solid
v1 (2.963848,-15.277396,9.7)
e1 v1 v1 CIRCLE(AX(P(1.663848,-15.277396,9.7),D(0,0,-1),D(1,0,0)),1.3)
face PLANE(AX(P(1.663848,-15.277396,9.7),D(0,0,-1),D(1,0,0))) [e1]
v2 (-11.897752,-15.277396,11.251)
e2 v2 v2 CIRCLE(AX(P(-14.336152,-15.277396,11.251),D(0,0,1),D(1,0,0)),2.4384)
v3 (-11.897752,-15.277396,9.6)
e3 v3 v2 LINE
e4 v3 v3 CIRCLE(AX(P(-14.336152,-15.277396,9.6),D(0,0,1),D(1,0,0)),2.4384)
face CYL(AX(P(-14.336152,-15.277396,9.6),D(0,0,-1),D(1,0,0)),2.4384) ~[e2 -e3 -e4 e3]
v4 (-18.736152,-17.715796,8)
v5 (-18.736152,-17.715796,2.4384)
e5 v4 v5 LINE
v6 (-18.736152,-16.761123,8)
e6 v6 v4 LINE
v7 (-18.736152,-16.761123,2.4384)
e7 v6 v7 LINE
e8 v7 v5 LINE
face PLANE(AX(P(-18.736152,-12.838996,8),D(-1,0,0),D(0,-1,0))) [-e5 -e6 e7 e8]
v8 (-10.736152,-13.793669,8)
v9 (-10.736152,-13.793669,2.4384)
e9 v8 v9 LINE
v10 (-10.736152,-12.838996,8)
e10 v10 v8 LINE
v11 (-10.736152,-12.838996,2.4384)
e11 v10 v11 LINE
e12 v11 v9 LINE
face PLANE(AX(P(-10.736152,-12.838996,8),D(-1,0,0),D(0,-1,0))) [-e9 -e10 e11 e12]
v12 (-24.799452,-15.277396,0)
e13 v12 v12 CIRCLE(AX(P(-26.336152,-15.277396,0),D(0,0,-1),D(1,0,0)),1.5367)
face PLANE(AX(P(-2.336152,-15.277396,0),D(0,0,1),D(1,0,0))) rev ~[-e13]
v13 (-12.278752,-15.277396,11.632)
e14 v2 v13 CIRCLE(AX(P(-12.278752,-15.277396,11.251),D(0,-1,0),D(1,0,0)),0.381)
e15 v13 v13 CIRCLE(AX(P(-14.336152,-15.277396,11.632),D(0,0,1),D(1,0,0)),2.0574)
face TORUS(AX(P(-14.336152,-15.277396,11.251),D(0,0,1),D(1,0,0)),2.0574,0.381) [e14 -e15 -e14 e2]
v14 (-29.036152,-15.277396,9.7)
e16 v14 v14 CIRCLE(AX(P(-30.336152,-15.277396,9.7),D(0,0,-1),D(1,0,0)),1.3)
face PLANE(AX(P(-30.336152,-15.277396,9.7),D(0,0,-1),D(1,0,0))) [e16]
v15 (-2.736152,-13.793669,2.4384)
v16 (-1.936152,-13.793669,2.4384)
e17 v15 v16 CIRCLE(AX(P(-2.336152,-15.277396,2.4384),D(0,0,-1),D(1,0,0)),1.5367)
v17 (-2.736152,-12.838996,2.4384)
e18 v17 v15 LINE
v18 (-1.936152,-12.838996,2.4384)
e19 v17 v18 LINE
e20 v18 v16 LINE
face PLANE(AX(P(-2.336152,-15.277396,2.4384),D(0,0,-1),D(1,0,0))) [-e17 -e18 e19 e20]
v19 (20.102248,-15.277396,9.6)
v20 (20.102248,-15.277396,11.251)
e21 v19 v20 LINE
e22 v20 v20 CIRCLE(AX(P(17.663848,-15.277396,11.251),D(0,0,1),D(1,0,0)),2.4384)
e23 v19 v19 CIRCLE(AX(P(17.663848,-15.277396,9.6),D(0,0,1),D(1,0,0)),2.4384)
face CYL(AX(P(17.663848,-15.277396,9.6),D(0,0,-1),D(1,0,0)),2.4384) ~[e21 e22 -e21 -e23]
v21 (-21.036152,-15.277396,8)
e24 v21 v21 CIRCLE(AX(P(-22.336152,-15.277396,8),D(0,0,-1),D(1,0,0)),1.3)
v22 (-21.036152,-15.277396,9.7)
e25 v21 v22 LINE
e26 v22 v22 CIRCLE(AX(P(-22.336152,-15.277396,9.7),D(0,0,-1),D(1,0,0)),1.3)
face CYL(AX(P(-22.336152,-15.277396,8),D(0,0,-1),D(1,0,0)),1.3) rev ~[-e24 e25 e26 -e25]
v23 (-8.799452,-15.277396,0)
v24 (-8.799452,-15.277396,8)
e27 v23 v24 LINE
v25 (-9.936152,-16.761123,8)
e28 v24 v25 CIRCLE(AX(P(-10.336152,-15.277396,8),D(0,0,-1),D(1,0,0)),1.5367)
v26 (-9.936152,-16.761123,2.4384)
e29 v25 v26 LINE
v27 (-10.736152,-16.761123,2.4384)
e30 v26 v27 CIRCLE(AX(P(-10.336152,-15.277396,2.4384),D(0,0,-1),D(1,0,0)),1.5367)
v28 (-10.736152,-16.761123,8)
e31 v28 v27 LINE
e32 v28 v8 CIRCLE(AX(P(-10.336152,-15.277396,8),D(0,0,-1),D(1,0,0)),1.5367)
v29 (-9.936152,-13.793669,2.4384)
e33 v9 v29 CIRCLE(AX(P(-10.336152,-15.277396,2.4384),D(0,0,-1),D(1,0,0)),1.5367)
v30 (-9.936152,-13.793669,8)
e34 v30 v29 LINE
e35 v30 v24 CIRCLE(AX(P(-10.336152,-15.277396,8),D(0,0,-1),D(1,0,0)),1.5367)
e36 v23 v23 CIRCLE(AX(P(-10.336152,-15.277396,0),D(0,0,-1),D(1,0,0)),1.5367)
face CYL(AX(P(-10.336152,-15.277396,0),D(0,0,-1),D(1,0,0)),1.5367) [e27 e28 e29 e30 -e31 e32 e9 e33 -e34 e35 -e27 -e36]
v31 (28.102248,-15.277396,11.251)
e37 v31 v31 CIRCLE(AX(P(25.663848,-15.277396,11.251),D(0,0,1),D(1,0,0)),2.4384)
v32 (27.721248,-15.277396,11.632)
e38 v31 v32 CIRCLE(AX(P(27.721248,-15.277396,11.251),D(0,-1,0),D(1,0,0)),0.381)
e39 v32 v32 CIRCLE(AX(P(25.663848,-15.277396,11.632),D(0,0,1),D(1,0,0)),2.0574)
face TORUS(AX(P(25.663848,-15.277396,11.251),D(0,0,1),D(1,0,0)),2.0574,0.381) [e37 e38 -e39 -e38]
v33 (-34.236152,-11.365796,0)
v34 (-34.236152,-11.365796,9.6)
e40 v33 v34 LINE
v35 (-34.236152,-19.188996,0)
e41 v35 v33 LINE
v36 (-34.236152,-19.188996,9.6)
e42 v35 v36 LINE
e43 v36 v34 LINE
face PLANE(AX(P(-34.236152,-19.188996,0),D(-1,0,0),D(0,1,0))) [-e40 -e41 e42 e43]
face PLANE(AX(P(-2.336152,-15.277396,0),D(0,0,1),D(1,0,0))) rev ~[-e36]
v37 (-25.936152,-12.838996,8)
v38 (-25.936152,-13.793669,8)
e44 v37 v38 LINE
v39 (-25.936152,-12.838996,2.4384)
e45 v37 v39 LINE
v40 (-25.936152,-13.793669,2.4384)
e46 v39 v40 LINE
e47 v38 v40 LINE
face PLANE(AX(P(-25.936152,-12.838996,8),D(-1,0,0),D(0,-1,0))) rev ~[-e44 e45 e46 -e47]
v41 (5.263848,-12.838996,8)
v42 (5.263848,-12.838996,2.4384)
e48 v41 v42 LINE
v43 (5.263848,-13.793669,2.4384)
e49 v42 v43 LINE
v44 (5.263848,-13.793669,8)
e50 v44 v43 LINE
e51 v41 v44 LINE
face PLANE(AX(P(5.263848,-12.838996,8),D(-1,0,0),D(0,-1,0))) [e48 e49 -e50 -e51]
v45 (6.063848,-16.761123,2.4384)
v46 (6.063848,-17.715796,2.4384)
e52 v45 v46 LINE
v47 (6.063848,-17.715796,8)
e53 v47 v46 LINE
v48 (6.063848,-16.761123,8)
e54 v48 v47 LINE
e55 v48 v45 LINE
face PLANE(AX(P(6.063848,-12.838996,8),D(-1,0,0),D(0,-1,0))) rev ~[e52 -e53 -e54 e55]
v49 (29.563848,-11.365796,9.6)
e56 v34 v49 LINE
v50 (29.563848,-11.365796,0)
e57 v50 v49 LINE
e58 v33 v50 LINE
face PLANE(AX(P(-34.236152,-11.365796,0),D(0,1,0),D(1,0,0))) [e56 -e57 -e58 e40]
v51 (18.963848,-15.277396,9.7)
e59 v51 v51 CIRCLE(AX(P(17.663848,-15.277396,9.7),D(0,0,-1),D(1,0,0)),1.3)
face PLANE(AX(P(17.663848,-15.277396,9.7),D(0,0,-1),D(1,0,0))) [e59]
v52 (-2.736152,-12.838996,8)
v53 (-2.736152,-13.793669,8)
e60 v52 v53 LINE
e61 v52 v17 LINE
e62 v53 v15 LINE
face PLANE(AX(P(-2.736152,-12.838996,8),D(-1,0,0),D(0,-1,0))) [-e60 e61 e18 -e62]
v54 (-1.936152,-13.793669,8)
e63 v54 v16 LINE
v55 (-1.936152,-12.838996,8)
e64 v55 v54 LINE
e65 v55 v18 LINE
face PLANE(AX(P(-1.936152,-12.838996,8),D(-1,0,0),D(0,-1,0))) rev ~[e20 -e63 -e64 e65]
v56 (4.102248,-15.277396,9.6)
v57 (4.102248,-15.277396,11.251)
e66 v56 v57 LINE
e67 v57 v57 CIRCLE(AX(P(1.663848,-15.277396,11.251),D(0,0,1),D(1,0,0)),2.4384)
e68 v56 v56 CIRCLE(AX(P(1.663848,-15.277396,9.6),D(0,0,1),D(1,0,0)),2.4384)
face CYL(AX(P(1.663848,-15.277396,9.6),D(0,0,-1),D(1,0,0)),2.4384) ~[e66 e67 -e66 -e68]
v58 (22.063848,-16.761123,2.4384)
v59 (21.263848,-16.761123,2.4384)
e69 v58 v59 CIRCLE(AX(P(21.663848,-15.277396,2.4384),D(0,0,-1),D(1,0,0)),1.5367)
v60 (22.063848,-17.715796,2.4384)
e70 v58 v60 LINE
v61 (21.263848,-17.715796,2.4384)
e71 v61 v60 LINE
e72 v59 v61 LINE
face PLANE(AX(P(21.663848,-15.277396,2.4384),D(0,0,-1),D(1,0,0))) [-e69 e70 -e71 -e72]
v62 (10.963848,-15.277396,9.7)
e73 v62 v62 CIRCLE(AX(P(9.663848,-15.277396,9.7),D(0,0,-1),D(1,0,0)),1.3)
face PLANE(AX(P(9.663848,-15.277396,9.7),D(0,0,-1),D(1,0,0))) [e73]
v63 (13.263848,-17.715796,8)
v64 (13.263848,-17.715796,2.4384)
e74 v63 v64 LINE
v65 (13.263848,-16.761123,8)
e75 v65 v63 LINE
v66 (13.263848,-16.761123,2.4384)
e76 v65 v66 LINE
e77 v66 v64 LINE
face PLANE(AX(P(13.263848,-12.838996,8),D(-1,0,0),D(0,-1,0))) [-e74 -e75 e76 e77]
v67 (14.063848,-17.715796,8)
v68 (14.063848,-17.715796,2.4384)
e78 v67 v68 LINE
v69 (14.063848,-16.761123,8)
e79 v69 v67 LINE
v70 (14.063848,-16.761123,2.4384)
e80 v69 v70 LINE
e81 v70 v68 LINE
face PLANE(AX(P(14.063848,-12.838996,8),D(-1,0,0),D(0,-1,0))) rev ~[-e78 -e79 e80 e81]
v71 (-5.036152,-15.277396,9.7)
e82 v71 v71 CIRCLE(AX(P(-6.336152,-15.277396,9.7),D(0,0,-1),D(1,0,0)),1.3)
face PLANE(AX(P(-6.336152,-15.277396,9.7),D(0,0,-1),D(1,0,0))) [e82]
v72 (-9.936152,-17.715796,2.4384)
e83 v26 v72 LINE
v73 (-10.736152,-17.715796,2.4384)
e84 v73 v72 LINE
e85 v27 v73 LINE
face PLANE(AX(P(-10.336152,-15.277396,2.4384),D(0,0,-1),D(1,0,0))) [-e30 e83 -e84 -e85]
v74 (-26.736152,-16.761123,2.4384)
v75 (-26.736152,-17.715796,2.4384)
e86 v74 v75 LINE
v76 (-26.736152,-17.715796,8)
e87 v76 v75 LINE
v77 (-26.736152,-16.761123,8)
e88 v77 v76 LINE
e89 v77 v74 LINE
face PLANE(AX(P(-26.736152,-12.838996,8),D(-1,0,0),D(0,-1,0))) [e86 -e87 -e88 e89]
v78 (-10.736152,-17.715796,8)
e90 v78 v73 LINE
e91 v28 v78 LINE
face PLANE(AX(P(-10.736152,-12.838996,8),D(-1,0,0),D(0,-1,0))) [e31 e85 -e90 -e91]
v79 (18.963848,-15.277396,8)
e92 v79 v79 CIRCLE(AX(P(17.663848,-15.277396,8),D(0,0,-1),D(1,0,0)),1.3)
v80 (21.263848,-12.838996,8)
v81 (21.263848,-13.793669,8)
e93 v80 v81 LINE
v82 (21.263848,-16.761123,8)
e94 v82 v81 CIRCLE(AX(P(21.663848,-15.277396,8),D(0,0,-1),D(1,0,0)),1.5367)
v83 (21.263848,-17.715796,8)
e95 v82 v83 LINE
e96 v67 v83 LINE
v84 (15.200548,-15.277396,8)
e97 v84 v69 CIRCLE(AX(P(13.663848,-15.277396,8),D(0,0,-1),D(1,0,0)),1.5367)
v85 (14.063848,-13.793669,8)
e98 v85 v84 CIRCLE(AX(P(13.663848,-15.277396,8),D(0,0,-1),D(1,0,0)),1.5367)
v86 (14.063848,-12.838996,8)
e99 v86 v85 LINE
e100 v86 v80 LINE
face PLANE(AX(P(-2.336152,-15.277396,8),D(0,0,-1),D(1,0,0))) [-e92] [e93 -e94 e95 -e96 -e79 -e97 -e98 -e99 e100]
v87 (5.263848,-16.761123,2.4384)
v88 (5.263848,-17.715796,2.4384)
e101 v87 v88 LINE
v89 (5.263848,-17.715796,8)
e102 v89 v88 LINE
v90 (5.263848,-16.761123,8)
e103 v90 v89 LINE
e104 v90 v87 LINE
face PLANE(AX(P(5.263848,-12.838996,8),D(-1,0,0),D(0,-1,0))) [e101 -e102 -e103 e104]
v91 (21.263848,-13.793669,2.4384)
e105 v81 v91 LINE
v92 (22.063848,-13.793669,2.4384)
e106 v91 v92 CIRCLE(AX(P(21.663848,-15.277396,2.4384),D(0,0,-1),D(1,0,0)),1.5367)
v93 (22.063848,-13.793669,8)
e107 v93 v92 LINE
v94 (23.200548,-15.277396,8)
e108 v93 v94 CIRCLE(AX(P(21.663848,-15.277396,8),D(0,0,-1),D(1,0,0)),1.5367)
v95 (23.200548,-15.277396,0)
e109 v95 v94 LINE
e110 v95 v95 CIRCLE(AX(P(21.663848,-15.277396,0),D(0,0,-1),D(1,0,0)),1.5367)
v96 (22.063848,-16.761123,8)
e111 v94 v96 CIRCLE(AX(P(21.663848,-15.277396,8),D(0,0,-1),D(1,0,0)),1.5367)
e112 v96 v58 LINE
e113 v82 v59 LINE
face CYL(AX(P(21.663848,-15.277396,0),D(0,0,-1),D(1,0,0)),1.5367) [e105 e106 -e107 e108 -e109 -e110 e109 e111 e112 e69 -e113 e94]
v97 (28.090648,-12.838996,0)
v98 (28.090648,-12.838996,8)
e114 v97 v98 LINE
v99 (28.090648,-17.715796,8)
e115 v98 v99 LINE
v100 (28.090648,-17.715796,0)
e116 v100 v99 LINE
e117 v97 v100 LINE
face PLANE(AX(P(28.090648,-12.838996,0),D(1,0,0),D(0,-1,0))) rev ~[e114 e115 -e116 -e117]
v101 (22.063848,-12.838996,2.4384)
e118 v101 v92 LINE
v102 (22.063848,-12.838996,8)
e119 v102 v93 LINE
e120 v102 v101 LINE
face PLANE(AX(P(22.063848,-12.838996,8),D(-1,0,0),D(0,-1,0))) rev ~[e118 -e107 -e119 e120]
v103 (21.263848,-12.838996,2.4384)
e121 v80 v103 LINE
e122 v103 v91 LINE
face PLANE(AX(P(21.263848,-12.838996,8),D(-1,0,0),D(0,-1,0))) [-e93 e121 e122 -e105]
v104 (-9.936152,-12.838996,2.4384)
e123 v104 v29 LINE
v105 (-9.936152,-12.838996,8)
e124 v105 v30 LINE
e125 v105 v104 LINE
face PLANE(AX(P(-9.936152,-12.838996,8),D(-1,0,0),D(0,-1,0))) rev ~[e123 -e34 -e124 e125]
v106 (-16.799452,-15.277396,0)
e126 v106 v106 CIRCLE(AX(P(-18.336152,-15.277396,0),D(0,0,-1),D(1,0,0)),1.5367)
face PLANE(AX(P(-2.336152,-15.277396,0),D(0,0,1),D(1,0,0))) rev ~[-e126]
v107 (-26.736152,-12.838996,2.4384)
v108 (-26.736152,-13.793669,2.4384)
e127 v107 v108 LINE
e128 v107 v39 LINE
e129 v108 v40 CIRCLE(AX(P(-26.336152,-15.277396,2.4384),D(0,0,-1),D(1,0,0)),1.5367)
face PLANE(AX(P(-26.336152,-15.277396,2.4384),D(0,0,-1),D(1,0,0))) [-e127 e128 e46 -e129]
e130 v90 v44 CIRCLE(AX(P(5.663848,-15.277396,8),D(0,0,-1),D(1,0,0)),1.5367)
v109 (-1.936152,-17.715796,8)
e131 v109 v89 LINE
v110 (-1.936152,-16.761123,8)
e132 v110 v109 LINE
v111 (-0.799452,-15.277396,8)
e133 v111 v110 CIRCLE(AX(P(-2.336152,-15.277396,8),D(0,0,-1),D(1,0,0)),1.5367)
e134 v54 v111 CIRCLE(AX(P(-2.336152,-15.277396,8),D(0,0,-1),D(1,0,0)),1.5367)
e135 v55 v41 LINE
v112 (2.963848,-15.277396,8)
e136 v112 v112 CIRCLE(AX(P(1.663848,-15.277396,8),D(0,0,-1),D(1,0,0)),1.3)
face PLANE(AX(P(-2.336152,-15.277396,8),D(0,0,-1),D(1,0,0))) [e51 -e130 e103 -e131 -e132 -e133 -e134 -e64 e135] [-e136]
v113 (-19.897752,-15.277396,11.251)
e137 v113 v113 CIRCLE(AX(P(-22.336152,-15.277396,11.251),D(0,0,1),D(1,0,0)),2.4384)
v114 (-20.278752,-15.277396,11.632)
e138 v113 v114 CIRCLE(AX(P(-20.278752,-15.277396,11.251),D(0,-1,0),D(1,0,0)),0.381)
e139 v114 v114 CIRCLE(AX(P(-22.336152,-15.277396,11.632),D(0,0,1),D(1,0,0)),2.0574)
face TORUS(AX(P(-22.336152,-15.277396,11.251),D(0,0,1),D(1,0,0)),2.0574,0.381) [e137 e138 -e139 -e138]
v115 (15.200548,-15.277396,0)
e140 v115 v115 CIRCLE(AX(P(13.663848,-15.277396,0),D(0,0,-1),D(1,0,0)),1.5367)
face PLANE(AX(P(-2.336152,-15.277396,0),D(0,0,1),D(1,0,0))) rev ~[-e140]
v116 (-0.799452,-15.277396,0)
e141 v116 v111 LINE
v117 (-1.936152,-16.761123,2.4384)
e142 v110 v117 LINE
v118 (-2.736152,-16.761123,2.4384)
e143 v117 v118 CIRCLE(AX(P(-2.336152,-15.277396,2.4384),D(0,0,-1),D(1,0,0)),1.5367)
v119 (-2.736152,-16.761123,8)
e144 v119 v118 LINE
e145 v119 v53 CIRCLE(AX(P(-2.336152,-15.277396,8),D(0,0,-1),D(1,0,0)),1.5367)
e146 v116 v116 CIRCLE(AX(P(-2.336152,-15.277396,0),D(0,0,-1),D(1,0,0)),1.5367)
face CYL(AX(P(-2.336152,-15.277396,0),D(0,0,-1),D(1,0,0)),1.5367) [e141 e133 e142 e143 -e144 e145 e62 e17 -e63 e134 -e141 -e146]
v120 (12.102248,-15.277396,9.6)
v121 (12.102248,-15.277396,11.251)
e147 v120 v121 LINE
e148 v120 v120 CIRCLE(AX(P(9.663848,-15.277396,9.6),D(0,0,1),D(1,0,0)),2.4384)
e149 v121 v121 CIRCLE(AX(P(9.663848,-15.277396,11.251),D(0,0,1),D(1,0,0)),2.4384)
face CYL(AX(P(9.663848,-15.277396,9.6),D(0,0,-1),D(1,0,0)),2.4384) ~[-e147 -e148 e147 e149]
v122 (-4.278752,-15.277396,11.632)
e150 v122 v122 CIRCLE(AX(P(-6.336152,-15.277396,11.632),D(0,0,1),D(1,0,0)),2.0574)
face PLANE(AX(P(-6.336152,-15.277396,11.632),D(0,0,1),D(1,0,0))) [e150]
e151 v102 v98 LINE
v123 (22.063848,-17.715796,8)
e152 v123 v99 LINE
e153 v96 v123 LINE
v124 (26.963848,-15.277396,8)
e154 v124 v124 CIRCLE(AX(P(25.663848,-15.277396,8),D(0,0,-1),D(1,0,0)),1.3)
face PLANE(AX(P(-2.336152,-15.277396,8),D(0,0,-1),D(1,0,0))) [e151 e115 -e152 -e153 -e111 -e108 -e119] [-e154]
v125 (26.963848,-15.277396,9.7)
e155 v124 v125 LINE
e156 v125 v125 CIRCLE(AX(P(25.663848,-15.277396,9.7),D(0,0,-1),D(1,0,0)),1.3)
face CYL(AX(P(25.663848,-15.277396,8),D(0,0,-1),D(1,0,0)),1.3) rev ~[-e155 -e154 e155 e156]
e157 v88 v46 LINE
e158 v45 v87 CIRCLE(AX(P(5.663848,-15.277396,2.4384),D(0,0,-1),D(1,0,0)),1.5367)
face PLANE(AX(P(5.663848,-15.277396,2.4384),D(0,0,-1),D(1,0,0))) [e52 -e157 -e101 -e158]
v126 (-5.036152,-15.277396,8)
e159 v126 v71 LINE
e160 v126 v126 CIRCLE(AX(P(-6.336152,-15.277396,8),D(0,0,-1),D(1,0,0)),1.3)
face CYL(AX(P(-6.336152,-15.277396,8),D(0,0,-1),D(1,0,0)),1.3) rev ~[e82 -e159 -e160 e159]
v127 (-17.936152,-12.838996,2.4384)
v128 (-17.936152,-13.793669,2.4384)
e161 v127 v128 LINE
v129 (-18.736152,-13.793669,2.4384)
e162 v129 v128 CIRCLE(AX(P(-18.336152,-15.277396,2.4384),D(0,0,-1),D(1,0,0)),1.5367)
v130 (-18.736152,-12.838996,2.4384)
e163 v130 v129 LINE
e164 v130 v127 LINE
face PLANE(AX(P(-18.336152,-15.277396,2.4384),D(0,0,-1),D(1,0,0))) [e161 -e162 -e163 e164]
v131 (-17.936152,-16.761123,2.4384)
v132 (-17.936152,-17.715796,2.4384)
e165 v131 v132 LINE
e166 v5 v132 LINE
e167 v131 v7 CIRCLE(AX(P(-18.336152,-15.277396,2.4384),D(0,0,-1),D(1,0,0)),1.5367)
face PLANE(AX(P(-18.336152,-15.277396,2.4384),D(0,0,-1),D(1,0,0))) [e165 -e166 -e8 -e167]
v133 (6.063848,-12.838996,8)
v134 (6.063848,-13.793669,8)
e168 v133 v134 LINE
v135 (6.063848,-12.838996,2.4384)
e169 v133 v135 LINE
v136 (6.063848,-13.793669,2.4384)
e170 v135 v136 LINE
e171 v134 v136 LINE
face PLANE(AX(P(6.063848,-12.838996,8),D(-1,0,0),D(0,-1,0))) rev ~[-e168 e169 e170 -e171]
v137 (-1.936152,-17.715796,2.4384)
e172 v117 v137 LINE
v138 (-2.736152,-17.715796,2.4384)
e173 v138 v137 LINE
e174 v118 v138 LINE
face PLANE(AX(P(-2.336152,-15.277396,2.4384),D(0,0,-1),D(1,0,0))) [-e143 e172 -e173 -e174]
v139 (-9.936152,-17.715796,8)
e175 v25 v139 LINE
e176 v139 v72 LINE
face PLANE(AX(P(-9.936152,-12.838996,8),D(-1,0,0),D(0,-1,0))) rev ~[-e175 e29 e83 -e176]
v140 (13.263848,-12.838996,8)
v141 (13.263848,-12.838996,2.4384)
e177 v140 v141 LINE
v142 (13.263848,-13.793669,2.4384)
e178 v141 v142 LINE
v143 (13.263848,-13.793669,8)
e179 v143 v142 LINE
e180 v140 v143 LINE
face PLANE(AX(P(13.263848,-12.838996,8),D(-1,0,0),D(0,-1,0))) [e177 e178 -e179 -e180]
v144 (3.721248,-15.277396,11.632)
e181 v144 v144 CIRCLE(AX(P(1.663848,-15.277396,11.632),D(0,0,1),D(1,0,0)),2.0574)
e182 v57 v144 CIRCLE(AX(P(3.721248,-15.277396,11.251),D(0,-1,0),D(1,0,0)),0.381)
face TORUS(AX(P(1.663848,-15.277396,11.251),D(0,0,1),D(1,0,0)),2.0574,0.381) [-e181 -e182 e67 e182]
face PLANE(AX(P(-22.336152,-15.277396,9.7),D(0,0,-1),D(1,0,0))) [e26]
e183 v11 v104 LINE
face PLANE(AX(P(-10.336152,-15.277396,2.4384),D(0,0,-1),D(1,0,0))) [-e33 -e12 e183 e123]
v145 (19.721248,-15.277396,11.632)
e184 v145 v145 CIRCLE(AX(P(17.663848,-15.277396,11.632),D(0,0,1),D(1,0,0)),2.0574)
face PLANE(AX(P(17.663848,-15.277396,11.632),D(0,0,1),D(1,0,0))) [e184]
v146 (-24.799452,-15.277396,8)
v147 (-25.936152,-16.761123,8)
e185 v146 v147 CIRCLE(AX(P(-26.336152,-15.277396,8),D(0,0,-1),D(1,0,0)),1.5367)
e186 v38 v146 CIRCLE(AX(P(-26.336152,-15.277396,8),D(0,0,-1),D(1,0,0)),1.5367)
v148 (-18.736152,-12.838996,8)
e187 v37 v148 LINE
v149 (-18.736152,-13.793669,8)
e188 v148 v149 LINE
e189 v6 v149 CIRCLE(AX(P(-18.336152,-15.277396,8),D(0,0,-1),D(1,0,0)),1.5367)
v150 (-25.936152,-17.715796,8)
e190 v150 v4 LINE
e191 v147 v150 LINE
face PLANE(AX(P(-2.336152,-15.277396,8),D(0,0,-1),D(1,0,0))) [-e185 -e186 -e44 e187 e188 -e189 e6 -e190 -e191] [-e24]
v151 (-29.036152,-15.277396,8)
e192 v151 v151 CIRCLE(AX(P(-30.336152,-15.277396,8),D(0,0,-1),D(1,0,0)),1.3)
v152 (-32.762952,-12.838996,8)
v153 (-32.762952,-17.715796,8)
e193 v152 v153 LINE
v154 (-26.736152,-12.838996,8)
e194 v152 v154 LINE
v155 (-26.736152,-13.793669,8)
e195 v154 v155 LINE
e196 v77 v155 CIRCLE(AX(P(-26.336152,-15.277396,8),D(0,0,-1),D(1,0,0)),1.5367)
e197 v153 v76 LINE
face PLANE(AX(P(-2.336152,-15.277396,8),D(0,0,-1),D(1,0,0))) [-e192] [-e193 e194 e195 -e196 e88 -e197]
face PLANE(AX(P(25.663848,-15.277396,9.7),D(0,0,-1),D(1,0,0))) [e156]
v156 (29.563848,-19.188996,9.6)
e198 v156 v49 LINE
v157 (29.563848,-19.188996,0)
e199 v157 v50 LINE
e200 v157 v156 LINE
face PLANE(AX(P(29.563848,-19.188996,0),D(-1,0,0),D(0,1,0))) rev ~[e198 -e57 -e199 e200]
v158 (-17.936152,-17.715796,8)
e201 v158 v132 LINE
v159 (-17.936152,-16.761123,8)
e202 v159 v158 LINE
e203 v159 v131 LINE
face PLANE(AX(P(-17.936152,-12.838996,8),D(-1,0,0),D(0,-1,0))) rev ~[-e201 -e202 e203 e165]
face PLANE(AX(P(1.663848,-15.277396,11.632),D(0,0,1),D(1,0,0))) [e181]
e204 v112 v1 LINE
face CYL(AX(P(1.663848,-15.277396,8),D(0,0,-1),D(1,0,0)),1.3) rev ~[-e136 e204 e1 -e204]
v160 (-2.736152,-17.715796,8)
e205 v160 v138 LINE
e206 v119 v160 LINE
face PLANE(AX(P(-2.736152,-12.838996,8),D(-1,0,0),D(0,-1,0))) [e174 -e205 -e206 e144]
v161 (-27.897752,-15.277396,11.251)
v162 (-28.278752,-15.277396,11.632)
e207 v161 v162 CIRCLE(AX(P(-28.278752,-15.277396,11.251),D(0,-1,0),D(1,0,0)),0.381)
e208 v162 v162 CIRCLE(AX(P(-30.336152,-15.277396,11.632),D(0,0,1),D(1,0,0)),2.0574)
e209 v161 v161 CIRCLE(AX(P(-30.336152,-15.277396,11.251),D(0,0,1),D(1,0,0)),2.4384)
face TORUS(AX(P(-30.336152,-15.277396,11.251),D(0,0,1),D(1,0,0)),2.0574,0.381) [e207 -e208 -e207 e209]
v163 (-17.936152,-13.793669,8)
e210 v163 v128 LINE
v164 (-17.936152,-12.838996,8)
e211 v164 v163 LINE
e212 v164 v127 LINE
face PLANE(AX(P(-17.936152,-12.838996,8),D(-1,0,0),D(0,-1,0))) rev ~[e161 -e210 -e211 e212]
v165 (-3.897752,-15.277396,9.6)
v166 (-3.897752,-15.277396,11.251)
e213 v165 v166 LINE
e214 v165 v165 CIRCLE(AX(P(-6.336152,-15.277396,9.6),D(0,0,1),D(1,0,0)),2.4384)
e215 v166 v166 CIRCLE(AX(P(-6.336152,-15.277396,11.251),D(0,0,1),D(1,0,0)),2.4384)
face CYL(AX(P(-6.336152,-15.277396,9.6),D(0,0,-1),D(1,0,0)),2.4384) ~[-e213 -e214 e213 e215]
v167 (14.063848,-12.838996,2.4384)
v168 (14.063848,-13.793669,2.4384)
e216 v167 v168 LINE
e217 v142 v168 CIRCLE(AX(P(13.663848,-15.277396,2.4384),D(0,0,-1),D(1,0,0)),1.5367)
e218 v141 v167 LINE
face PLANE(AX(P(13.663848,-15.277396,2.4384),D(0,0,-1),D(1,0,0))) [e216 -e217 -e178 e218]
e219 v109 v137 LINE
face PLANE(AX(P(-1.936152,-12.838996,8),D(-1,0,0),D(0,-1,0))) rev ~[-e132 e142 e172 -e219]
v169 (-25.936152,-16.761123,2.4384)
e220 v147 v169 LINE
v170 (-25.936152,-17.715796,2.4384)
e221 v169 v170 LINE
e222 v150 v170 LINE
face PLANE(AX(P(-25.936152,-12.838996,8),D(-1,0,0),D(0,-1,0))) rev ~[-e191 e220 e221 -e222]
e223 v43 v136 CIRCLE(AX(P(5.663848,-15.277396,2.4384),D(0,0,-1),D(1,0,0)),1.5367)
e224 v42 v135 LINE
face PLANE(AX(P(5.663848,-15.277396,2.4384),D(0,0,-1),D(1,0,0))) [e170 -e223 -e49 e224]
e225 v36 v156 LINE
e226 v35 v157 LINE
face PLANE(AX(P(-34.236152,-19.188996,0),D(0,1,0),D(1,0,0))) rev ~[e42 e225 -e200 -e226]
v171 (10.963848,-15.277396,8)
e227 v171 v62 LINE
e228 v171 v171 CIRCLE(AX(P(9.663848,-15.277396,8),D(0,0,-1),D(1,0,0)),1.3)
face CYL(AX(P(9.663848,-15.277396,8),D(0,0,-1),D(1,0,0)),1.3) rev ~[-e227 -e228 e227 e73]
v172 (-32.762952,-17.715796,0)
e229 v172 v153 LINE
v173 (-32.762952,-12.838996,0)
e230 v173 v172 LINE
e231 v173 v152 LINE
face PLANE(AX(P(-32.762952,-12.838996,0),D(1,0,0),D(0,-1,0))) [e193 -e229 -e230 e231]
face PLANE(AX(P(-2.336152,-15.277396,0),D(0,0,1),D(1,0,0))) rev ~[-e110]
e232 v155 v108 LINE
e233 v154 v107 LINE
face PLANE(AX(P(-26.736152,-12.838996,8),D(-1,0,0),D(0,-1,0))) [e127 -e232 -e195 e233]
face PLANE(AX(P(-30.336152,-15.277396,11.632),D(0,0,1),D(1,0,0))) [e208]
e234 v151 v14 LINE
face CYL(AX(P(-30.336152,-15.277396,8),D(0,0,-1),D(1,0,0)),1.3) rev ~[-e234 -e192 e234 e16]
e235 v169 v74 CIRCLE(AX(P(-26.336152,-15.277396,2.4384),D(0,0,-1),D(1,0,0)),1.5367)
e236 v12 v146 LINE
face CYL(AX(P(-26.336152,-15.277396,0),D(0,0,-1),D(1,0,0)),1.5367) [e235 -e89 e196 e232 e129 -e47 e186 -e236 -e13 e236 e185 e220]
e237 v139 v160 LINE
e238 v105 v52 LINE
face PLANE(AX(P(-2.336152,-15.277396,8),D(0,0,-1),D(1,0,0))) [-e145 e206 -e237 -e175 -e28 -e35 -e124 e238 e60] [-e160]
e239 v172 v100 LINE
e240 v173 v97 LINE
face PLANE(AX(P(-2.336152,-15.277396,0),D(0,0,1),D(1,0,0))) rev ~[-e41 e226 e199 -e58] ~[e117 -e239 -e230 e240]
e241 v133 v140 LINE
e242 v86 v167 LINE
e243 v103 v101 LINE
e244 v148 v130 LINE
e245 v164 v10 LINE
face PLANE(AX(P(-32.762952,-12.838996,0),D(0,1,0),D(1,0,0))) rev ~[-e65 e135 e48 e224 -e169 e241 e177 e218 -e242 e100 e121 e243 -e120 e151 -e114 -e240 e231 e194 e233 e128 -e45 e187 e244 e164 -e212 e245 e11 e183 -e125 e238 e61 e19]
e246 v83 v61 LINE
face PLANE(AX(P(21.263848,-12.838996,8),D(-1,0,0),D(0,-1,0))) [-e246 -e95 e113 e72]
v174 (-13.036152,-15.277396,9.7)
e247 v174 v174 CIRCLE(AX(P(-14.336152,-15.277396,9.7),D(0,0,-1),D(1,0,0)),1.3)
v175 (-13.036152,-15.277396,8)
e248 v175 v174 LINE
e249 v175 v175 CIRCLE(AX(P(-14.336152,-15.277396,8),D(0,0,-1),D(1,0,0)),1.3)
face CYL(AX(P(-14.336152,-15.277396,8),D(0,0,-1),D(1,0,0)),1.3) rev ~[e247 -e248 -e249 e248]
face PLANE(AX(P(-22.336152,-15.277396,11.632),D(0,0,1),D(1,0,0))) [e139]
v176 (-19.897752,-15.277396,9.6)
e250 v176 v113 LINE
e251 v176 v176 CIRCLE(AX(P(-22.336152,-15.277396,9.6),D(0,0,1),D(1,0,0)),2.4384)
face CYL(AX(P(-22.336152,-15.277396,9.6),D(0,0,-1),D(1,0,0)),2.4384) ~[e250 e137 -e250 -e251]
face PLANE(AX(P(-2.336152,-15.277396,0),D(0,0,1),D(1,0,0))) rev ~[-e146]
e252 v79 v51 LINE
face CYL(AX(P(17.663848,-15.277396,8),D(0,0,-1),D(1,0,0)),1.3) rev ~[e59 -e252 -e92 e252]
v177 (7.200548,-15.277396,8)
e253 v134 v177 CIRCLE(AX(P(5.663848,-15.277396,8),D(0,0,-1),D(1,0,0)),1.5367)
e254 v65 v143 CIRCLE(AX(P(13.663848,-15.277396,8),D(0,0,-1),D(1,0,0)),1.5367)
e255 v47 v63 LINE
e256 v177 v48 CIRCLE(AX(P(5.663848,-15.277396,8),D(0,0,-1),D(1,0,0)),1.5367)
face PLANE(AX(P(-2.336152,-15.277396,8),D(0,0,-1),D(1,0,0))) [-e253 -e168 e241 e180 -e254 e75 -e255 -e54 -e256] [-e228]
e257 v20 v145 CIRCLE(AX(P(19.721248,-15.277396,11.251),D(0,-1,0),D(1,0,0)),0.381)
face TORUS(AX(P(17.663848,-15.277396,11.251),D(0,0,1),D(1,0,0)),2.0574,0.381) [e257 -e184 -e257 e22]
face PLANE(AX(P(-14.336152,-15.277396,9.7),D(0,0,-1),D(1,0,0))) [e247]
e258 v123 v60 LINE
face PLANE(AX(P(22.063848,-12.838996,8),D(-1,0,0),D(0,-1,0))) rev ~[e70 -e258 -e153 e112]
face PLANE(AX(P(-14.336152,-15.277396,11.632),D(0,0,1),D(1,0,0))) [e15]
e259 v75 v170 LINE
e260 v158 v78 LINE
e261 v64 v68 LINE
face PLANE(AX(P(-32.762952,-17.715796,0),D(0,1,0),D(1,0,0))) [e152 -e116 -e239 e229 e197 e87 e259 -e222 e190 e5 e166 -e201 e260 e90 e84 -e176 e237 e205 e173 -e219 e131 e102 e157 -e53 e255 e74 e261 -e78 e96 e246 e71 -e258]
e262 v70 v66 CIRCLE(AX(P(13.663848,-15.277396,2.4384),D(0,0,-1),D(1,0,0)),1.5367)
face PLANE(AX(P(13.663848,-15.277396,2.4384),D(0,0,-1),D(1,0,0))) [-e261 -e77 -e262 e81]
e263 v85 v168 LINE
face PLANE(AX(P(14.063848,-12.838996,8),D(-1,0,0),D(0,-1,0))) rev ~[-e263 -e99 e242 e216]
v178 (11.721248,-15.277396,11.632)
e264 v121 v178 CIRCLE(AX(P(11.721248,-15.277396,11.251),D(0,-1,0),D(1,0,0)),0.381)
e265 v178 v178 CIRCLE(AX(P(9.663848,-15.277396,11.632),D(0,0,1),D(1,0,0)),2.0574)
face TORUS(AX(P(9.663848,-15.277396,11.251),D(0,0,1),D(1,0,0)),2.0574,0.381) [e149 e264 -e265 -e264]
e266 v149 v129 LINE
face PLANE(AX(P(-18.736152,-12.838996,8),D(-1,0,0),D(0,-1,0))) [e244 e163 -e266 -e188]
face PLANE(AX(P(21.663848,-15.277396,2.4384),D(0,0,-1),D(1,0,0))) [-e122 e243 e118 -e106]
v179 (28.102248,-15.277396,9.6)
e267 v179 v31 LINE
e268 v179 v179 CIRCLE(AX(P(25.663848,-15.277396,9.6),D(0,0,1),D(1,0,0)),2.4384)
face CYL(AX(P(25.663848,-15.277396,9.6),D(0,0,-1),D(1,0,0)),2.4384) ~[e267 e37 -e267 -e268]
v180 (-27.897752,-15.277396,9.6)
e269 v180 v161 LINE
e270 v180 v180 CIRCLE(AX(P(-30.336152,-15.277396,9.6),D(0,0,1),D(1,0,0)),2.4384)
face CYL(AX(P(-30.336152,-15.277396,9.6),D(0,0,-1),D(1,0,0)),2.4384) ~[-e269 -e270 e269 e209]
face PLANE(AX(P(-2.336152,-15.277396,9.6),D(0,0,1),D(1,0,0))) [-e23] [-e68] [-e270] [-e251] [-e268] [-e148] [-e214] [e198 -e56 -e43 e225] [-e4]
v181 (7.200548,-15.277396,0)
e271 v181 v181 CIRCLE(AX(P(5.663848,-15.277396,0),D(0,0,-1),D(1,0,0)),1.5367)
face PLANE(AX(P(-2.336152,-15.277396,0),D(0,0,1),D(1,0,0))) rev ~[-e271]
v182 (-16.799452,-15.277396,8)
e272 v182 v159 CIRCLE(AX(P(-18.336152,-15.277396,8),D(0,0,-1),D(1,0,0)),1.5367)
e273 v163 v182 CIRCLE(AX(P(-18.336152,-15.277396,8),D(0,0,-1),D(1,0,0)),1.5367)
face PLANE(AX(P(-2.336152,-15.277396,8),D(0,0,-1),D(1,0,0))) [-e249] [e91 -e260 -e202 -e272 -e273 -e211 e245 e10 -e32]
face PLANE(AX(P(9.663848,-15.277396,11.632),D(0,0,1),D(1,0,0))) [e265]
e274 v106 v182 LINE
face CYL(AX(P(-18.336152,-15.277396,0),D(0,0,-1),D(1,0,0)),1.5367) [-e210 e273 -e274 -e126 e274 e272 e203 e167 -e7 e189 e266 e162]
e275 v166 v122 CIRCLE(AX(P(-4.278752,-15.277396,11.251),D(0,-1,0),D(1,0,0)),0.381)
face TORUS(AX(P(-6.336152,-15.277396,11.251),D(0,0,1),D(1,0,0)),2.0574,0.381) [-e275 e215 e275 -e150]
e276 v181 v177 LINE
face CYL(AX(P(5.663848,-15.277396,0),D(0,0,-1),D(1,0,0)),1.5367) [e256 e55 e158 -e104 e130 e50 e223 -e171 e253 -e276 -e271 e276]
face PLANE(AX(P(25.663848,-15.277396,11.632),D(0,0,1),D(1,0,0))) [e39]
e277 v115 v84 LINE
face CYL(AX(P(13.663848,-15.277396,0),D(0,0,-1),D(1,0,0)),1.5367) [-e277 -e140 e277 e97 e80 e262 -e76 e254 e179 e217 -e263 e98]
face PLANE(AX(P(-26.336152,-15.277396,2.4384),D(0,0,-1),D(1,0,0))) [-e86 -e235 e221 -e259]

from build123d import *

# Parameters (mm, degrees)
F0_W      = 63.8
F0_H      = 7.8232
F1_DEPTH  = 9.6
F2_R      = 2.4384
F3_DEPTH  = 2.032
F4_W      = 60.8536
F4_H      = 4.8768
F4_R      = 1.5367
F5_DEPTH  = 8
F6_R      = 0.381
F7_W      = 0.8
F7_H      = 4.8768
F8_DEPTH  = 5.5616
F9_R      = 1.3
F10_DEPTH = 1.7


with BuildPart() as f1:
    # F0 (on Top) → F1 (new body)
    with BuildSketch(Plane.XY):
        with Locations((-2.336152, -15.277396)):
            Rectangle(F0_W, F0_H)
    extrude(amount=F1_DEPTH)

    # F2 (on face) → F3 (join)
    with BuildSketch(Plane.XY.offset(9.6)):
        with Locations((-30.336152, -15.277396)):
            Circle(F2_R)
        with Locations((-22.336152, -15.277396)):
            Circle(F2_R)
        with Locations((-14.336152, -15.277396)):
            Circle(F2_R)
        with Locations((-6.336152, -15.277396)):
            Circle(F2_R)
        with Locations((1.663848, -15.277396)):
            Circle(F2_R)
        with Locations((9.663848, -15.277396)):
            Circle(F2_R)
        with Locations((17.663848, -15.277396)):
            Circle(F2_R)
        with Locations((25.663848, -15.277396)):
            Circle(F2_R)
    extrude(amount=F3_DEPTH)

    # F4 (on face) → F5 (cut)
    with BuildSketch(Plane(origin=(0, 0, 0), x_dir=(1, 0, 0), z_dir=(0, 0, -1))):
        with Locations((-2.336152, 15.277396)):
            Rectangle(F4_W, F4_H)
        with Locations((-26.336152, 15.277396)):
            Circle(F4_R, mode=Mode.SUBTRACT)
        with Locations((-18.336152, 15.277396)):
            Circle(F4_R, mode=Mode.SUBTRACT)
        with Locations((-10.336152, 15.277396)):
            Circle(F4_R, mode=Mode.SUBTRACT)
        with Locations((-2.336152, 15.277396)):
            Circle(F4_R, mode=Mode.SUBTRACT)
        with Locations((5.663848, 15.277396)):
            Circle(F4_R, mode=Mode.SUBTRACT)
        with Locations((13.663848, 15.277396)):
            Circle(F4_R, mode=Mode.SUBTRACT)
        with Locations((21.663848, 15.277396)):
            Circle(F4_R, mode=Mode.SUBTRACT)
    extrude(amount=-F5_DEPTH, mode=Mode.SUBTRACT)

    # F6
    f6_edges = [f1.edges().sort_by_distance(p)[0] for p in [
        (-24.774552, -15.277396, 11.632),
        (-16.774552, -15.277396, 11.632),
        (-8.774552, -15.277396, 11.632),
        (-0.774552, -15.277396, 11.632),
        (7.225448, -15.277396, 11.632),
        (15.225448, -15.277396, 11.632),
        (23.225448, -15.277396, 11.632),
        (-32.774552, -15.277396, 11.632),
    ]]
    fillet(f6_edges, radius=F6_R)

    # F7 (on face) → F8 (join)
    with BuildSketch(Plane(origin=(0, 0, 8), x_dir=(1, 0, 0), z_dir=(0, 0, -1))):
        with Locations((-26.336152, 15.277396)):
            Rectangle(F7_W, F7_H)
        with Locations((-18.336152, 15.277396)):
            Rectangle(F7_W, F7_H)
        with Locations((-10.336152, 15.277396)):
            Rectangle(F7_W, F7_H)
        with Locations((-2.336152, 15.277396)):
            Rectangle(F7_W, F7_H)
        with Locations((5.663848, 15.277396)):
            Rectangle(F7_W, F7_H)
        with Locations((13.663848, 15.277396)):
            Rectangle(F7_W, F7_H)
        with Locations((21.663848, 15.277396)):
            Rectangle(F7_W, F7_H)
    extrude(amount=F8_DEPTH)

    # F9 (on face) → F10 (cut)
    with BuildSketch(Plane(origin=(0, 0, 8), x_dir=(1, 0, 0), z_dir=(0, 0, -1))):
        with Locations((-30.336152, 15.277396)):
            Circle(F9_R)
        with Locations((-22.336152, 15.277396)):
            Circle(F9_R)
        with Locations((-14.336152, 15.277396)):
            Circle(F9_R)
        with Locations((-6.336152, 15.277396)):
            Circle(F9_R)
        with Locations((1.663848, 15.277396)):
            Circle(F9_R)
        with Locations((9.663848, 15.277396)):
            Circle(F9_R)
        with Locations((17.663848, 15.277396)):
            Circle(F9_R)
        with Locations((25.663848, 15.277396)):
            Circle(F9_R)
    extrude(amount=-F10_DEPTH, mode=Mode.SUBTRACT)


solid = f1.part
